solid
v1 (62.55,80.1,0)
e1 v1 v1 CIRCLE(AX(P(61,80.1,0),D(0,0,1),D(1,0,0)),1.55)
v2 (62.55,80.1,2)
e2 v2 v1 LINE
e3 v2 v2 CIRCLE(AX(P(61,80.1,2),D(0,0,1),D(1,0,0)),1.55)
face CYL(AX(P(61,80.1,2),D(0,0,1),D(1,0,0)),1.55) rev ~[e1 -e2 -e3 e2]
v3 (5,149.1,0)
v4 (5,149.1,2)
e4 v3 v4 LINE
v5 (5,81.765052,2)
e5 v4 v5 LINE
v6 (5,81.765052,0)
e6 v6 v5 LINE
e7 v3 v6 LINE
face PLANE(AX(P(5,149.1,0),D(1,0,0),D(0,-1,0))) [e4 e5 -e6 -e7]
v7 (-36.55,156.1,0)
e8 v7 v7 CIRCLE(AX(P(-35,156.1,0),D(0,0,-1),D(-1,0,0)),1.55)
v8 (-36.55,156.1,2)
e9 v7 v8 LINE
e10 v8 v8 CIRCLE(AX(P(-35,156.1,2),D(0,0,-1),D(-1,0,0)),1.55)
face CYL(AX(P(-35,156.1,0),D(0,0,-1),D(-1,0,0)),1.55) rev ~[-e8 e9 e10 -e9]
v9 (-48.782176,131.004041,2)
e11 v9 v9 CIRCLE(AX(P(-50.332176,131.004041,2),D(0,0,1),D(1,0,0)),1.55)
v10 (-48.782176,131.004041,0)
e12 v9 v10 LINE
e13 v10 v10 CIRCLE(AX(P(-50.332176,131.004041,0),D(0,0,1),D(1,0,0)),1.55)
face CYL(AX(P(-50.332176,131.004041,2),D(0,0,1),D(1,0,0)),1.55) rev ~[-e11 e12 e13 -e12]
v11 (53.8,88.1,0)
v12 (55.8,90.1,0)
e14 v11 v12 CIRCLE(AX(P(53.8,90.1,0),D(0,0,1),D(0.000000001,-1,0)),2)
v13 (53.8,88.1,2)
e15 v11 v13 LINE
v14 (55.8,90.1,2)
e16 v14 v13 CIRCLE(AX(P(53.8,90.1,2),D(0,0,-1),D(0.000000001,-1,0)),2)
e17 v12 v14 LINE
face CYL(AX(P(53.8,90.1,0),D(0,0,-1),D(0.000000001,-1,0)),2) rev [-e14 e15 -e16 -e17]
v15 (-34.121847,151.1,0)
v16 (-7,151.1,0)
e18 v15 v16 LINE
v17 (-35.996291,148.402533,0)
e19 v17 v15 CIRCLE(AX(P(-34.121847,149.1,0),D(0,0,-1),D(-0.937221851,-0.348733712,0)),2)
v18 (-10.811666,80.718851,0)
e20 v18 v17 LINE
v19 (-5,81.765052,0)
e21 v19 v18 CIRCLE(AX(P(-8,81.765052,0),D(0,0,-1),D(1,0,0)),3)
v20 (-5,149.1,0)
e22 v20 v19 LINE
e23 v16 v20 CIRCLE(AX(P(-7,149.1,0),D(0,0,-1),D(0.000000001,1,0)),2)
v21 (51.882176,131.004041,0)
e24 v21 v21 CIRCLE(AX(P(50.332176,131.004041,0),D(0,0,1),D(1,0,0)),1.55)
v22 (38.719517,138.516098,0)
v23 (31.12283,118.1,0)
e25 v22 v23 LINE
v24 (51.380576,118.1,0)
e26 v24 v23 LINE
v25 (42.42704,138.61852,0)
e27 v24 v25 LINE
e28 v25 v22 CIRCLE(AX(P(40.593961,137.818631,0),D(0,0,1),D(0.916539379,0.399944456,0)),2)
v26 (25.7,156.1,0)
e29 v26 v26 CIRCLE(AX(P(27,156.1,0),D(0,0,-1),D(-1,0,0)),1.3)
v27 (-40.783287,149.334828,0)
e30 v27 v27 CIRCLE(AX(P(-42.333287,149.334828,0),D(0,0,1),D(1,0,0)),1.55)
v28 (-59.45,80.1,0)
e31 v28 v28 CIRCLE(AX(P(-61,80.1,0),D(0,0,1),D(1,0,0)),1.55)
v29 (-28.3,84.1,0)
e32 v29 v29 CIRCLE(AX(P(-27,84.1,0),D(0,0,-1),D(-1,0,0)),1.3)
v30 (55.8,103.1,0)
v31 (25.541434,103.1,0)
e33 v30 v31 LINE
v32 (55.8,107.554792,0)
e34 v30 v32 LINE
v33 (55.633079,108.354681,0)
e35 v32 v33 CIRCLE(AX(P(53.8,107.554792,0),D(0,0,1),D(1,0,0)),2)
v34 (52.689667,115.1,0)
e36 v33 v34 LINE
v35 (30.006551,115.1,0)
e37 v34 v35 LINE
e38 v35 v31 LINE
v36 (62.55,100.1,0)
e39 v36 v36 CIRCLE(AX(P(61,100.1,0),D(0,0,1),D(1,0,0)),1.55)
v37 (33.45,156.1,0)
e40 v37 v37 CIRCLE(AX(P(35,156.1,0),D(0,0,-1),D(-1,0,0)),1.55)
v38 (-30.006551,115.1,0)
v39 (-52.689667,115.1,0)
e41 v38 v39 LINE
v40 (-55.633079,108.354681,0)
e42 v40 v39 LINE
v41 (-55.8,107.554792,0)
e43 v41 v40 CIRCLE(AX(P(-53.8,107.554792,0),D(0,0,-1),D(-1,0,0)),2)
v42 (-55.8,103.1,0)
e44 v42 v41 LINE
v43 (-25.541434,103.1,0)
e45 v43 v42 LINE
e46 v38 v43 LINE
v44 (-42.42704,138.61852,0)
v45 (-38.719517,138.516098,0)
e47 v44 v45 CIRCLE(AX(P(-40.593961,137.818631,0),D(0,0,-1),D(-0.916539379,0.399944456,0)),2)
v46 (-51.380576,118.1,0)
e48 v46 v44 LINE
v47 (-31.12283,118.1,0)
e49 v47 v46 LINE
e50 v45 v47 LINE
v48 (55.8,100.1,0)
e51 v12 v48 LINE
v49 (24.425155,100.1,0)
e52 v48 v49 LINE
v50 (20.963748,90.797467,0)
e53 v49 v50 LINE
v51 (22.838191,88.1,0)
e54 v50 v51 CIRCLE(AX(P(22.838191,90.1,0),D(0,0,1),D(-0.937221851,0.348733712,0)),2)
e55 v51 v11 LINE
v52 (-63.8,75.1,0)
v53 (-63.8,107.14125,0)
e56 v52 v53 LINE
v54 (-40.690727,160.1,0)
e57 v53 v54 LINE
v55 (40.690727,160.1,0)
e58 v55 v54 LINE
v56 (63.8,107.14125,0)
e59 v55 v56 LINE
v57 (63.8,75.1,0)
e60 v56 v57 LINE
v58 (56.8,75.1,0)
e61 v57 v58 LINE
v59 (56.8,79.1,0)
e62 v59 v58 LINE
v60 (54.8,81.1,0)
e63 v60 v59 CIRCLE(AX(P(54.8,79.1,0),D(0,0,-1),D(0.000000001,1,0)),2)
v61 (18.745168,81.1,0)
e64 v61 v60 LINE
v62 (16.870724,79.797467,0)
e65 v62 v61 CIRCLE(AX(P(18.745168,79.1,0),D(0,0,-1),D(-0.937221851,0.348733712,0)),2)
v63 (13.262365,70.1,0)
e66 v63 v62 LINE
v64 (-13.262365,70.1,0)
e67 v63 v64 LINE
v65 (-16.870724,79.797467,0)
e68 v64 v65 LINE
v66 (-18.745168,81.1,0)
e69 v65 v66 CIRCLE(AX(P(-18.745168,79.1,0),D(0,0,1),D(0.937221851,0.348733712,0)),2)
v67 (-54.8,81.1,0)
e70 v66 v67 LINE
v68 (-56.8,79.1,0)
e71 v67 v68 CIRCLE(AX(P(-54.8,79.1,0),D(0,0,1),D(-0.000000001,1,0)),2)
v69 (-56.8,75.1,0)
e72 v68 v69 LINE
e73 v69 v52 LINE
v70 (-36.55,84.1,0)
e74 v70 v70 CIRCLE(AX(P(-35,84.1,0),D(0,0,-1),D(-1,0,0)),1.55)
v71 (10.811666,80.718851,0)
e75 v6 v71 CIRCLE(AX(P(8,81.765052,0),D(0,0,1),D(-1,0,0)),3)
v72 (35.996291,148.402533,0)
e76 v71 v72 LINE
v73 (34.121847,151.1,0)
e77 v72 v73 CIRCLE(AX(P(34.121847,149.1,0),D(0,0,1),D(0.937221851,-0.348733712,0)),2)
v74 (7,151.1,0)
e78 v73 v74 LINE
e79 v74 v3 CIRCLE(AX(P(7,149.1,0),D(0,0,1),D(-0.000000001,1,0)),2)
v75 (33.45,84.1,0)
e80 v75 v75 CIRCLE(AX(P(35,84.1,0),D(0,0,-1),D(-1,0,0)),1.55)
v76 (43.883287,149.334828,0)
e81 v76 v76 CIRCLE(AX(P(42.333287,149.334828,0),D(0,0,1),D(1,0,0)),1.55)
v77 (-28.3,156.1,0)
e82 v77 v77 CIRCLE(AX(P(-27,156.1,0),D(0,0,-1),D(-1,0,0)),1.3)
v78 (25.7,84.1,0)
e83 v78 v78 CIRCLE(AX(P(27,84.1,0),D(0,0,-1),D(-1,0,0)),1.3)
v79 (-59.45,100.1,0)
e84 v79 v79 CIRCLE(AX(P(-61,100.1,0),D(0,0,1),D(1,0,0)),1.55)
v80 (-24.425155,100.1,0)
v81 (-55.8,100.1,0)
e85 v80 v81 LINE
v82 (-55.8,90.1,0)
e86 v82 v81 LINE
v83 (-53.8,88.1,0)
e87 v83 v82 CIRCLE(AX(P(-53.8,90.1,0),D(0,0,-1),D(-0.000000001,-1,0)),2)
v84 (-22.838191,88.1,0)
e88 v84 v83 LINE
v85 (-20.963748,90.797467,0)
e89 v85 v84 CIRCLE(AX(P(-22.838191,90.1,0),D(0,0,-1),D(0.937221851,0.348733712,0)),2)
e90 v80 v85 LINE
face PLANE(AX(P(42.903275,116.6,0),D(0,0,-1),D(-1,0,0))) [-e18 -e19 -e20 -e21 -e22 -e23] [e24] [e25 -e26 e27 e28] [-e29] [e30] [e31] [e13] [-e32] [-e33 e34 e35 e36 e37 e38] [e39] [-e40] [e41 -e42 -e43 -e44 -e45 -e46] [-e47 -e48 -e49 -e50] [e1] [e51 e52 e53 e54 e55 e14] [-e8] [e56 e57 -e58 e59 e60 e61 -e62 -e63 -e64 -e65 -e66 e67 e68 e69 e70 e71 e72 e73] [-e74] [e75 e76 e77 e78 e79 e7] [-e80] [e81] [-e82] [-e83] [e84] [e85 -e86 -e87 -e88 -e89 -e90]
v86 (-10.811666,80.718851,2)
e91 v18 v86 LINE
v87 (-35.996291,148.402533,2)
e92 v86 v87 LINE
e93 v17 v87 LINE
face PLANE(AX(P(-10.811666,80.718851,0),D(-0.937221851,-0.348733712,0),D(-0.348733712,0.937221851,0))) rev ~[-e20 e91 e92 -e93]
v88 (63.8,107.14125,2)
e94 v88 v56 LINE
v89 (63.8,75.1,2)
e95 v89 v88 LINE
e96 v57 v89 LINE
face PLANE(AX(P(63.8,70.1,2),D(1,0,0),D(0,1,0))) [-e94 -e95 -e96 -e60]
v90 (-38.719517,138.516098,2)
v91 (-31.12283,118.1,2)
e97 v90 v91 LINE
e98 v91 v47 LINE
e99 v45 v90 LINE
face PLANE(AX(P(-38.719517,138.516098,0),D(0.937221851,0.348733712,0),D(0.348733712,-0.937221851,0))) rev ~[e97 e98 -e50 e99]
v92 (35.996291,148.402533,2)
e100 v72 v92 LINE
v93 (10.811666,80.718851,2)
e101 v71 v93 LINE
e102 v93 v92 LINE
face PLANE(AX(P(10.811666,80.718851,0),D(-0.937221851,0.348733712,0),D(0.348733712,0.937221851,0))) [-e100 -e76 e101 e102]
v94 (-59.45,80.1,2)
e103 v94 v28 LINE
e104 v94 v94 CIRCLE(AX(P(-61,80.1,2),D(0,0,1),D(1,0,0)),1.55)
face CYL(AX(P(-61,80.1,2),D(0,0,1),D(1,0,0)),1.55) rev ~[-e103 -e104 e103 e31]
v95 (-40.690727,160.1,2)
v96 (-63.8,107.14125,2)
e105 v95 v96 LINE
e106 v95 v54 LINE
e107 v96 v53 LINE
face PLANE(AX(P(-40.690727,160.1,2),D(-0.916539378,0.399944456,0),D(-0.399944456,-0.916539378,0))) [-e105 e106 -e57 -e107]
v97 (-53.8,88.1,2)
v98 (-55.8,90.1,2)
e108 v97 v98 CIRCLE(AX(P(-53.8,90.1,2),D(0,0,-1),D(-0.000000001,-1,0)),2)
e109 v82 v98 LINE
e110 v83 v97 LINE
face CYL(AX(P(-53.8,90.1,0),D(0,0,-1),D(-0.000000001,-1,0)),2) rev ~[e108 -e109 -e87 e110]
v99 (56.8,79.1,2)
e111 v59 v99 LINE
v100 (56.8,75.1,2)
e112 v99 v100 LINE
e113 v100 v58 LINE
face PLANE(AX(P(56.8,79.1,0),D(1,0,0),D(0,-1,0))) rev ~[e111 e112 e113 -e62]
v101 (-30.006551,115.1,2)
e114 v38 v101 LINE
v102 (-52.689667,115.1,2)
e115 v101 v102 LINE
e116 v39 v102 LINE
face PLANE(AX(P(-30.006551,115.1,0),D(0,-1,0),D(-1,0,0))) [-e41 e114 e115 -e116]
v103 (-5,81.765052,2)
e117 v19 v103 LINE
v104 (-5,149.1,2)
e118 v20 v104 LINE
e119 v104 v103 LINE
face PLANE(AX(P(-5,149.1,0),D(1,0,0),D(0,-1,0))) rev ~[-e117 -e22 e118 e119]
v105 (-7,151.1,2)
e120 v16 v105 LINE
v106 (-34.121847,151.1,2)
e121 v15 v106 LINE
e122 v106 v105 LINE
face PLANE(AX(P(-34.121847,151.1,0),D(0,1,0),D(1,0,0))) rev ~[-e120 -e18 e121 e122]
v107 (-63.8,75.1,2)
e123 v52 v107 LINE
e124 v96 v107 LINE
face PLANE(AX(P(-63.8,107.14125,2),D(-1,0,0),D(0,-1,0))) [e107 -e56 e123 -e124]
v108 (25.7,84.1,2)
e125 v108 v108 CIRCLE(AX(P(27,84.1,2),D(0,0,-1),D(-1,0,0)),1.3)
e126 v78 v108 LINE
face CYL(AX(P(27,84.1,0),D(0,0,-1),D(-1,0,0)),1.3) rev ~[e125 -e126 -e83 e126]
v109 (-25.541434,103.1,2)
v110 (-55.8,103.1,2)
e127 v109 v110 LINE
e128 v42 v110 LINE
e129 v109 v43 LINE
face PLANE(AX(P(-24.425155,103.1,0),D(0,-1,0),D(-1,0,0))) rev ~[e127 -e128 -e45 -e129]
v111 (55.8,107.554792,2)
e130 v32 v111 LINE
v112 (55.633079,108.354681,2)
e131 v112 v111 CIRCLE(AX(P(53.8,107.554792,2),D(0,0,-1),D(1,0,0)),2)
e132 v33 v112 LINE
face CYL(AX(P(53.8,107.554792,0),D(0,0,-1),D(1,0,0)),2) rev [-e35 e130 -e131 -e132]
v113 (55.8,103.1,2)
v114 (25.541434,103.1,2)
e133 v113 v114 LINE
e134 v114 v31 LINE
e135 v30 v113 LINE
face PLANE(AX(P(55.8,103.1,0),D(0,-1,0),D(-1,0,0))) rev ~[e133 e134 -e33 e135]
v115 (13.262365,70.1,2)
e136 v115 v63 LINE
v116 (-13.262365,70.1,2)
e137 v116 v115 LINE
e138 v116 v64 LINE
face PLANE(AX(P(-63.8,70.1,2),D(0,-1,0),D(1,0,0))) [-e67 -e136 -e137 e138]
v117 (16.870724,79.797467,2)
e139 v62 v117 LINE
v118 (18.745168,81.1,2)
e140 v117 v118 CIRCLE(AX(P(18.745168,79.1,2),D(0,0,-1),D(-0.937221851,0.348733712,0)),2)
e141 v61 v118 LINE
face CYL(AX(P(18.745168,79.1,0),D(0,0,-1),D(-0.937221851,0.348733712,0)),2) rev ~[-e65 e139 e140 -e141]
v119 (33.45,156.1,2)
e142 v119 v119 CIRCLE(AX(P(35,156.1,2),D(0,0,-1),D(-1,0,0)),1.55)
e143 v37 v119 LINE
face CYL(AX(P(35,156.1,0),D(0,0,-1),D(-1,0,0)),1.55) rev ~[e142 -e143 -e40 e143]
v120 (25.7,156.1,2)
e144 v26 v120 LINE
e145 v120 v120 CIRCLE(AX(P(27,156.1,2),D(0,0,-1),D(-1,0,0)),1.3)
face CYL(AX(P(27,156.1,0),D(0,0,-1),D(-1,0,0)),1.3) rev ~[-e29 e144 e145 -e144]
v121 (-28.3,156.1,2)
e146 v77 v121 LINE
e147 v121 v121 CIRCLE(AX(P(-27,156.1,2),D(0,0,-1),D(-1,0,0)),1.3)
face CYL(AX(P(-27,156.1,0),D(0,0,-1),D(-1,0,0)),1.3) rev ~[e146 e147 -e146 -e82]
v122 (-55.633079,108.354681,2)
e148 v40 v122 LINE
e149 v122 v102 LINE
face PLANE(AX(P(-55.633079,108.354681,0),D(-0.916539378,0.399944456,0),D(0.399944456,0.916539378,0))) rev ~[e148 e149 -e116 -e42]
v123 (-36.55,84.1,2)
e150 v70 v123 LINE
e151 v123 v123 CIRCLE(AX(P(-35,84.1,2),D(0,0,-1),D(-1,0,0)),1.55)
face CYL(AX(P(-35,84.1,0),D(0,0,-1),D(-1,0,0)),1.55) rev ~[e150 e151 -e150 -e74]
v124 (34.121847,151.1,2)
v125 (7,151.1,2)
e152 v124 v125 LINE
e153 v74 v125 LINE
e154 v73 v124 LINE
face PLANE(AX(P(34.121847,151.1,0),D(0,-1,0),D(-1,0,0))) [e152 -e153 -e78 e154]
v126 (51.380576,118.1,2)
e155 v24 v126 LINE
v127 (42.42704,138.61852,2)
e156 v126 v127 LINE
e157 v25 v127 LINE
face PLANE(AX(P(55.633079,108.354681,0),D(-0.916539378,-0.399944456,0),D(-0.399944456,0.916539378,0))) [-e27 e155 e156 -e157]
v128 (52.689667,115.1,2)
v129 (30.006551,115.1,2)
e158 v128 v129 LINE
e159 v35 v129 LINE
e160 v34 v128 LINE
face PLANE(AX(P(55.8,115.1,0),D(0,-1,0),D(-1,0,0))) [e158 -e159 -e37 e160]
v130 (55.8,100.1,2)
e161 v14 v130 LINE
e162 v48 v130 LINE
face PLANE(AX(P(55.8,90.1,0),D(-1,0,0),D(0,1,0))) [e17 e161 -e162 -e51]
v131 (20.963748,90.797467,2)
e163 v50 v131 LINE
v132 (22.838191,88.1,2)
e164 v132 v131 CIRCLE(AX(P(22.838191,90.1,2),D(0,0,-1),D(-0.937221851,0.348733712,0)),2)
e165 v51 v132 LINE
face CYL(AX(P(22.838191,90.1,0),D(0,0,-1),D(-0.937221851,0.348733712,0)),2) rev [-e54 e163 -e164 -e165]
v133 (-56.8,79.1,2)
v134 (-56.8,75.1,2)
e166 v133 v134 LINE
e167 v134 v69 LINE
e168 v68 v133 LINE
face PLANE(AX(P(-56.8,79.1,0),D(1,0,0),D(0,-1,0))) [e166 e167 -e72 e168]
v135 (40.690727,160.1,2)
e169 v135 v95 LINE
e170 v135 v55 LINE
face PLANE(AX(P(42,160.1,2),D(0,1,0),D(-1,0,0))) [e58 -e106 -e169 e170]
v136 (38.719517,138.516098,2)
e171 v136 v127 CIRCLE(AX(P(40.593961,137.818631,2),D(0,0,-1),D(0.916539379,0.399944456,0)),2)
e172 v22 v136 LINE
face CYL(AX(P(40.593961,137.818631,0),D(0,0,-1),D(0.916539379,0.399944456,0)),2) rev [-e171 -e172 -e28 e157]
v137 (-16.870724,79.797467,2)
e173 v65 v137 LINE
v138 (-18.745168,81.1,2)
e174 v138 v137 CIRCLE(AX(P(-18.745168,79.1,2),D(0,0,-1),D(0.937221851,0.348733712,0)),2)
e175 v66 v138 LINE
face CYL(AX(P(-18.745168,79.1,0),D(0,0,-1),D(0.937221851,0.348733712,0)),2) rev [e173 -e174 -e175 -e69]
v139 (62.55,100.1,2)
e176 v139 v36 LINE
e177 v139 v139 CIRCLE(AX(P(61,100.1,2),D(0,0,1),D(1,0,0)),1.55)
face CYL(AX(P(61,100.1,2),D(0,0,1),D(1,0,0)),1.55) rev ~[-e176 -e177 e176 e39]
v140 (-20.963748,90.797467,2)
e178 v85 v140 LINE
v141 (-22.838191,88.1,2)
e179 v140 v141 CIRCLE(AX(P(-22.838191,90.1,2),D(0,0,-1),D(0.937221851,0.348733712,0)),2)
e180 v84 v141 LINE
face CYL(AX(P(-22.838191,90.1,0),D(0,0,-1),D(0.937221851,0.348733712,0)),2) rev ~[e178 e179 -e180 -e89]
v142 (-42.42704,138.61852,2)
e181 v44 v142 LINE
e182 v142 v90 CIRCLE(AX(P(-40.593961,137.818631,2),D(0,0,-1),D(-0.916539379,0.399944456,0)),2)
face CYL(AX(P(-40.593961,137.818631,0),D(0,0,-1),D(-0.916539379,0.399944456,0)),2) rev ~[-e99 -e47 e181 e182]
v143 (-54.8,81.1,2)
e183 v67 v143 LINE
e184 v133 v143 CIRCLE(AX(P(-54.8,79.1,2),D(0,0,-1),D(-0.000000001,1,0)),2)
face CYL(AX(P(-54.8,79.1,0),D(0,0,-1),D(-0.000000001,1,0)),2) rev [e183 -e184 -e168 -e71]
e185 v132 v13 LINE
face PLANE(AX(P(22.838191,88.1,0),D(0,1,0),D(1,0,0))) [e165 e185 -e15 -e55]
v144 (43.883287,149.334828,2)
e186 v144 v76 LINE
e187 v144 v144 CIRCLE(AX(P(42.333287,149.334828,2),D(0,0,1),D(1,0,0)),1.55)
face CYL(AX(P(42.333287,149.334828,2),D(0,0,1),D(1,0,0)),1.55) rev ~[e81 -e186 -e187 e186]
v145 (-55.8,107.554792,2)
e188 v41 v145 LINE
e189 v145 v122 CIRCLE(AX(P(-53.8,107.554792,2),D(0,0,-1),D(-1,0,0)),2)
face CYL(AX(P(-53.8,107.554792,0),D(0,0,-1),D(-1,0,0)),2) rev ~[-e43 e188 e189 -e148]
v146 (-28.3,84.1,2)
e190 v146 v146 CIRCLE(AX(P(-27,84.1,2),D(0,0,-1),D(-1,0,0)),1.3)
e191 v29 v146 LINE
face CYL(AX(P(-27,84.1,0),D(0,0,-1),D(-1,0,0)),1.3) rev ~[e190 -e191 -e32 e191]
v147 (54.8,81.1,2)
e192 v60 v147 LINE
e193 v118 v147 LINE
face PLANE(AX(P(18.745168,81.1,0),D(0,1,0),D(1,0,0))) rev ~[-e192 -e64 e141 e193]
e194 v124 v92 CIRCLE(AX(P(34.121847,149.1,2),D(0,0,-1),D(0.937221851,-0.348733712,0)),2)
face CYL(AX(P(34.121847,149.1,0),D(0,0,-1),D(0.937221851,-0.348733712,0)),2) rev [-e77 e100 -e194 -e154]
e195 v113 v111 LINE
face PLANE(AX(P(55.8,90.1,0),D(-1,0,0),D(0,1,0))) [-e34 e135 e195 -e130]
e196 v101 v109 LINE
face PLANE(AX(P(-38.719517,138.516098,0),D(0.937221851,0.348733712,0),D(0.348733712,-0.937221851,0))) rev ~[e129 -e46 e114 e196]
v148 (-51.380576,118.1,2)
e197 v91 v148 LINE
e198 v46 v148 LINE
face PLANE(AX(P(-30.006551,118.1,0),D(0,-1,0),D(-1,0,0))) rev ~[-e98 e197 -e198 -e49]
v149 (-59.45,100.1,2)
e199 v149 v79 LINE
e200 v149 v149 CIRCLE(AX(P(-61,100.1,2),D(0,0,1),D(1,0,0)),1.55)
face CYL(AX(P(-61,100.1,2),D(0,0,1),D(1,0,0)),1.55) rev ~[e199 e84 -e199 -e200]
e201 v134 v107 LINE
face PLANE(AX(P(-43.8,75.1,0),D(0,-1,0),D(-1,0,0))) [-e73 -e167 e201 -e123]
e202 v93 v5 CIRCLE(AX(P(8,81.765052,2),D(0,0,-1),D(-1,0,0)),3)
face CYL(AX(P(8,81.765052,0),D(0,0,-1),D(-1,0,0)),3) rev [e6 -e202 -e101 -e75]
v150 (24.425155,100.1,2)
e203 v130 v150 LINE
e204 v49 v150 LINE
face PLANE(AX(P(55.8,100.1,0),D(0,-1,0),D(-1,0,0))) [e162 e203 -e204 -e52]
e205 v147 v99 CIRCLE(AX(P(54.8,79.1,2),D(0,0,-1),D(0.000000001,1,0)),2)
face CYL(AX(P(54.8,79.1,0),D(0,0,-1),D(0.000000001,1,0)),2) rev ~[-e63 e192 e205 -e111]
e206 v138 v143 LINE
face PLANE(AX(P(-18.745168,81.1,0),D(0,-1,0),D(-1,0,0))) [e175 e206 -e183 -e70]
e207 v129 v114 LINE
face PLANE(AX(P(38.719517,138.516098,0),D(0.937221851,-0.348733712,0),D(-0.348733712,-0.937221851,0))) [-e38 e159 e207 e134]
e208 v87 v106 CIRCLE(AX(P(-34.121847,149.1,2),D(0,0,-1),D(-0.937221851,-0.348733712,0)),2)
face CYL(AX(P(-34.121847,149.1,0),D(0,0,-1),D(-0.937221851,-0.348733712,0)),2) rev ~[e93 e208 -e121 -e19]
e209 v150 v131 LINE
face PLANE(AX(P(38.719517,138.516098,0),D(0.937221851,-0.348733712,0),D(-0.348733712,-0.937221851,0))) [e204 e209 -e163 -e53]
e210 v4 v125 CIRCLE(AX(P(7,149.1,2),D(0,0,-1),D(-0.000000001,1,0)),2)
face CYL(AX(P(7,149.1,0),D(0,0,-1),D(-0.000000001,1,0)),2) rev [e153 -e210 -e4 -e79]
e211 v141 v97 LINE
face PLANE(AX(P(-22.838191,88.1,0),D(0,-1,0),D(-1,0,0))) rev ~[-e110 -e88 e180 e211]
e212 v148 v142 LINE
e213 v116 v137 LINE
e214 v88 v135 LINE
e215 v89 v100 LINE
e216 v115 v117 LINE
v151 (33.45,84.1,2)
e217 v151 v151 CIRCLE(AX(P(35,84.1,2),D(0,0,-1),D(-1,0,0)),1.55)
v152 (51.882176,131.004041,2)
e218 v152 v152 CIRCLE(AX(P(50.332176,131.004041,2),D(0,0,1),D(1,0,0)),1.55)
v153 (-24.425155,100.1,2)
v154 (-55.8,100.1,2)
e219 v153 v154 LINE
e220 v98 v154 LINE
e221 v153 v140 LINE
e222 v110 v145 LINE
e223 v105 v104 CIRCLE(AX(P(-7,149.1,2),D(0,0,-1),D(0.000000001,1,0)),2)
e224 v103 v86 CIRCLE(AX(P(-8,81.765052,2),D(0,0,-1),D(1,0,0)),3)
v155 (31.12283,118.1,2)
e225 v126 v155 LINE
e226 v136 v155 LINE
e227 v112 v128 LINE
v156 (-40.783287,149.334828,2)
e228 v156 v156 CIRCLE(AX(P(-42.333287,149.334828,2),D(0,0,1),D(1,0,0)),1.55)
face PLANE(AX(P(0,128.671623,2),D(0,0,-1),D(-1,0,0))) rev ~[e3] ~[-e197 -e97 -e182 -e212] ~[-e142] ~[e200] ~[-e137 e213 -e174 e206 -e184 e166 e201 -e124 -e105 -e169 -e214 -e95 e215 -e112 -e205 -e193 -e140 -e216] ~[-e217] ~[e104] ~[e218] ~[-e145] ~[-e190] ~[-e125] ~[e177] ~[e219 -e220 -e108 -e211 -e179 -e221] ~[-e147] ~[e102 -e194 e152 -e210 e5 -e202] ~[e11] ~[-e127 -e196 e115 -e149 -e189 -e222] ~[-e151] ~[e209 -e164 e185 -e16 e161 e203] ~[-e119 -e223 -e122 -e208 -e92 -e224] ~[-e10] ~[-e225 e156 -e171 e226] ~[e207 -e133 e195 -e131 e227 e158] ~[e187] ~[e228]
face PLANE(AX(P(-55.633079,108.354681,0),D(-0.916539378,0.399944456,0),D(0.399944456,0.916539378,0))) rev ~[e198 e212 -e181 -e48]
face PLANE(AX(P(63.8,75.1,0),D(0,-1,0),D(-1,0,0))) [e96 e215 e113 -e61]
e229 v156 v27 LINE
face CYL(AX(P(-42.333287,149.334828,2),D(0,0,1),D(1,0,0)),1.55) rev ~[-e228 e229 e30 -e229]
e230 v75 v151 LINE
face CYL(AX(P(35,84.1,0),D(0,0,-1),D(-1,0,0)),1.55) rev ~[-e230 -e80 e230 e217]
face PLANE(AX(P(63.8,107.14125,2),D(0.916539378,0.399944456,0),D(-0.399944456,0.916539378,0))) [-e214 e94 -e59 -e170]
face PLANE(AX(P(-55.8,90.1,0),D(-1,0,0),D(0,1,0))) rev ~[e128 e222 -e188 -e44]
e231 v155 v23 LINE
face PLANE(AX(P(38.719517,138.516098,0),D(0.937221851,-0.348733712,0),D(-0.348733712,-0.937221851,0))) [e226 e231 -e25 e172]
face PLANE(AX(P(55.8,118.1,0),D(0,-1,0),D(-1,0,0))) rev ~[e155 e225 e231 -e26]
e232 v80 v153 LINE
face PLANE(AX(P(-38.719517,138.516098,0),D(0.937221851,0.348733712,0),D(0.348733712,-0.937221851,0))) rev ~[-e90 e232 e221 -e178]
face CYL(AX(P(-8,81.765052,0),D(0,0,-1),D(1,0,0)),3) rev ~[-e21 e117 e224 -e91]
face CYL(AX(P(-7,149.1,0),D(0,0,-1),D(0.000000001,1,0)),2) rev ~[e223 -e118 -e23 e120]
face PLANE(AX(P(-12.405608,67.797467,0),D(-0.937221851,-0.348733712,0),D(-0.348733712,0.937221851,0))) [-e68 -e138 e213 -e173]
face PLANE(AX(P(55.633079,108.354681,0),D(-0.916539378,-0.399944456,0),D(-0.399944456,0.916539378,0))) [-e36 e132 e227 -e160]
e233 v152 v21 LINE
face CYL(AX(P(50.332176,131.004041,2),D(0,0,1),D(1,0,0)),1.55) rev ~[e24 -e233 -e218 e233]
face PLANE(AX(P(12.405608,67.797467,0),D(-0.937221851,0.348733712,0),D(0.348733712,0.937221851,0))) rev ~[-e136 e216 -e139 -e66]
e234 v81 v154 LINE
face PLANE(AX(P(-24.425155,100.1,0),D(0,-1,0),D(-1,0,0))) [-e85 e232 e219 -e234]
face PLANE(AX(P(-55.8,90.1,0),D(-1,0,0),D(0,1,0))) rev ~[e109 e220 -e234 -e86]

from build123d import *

# Parameters (mm, degrees)
SKETCH_1_R          = 40.9
SKETCH_1_R_2        = 1.525
EXTRUDE_1_DEPTH     = 2
EXTRUDE_2_DEPTH     = 2
SKETCH_4_R          = 1.55
CUT_EXTRUDE_2_DEPTH = 10
SKETCH_5_OUTSIDE_W  = 183.288
SKETCH_5_OUTSIDE_H  = 259.388
CUT_EXTRUDE_3_DEPTH = 10
SKETCH_7_R          = 1.3
SKETCH_7_R_2        = 1.55
CUT_EXTRUDE_4_DEPTH = 10
CUT_EXTRUDE_5_DEPTH = 10
SKETCH_9_W          = 25.793449444
SKETCH_9_H          = 3
SKETCH_9_W_2        = 31.374844792
EXTRUDE_4_DEPTH     = 2
SKETCH_12_W         = 20
SKETCH_12_H         = 5
CUT_EXTRUDE_7_DEPTH = 10


with BuildPart() as part:
    # 草图1 → 凸台-拉伸1 (new body)
    with BuildSketch(Plane.XY):
        with BuildLine():
            Line((-48, 105.1), (48, 105.1))
            Line((48, 105.1), (66, 105.1))
            Line((66, 105.1), (66, 52.6))
            Line((66, 52.6), (45.955327857, -13.860297311))
            ThreePointArc((45.955327857, -13.860297311), (0, -48), (-45.955327857, -13.860297311))
            Line((-45.955327857, -13.860297311), (-66, 52.6))
            Line((-66, 52.6), (-66, 105.1))
            Line((-66, 105.1), (-48, 105.1))
        make_face()
        Circle(SKETCH_1_R, mode=Mode.SUBTRACT)
        with Locations((12.835117837, 41.981778787)):
            Circle(SKETCH_1_R_2, mode=Mode.SUBTRACT)
        with Locations((-17.153096541, 40.410163067)):
            Circle(SKETCH_1_R_2, mode=Mode.SUBTRACT)
        with Locations((-31.749094475, 31.749094475)):
            Circle(SKETCH_1_R_2, mode=Mode.SUBTRACT)
        with Locations((31.749094475, 31.749094475)):
            Circle(SKETCH_1_R_2, mode=Mode.SUBTRACT)
        with Locations((31.749094475, -31.749094475)):
            Circle(SKETCH_1_R_2, mode=Mode.SUBTRACT)
        with Locations((-31.749094475, -31.749094475)):
            Circle(SKETCH_1_R_2, mode=Mode.SUBTRACT)
        with Locations((-9.5, 52.6)):
            Circle(SKETCH_1_R_2, mode=Mode.SUBTRACT)
        with Locations((9.5, 52.6)):
            Circle(SKETCH_1_R_2, mode=Mode.SUBTRACT)
    extrude(amount=EXTRUDE_1_DEPTH)

    # 草图3 → 凸台-拉伸2 (add)
    with BuildSketch(Plane.XY.offset(2)):
        Polygon((-66, 105.1), (-42, 160.1), (-22, 160.1), (22, 160.1), (42, 160.1), (66, 105.1), (22, 105.1), (-22, 105.1), align=None)
    extrude(amount=-EXTRUDE_2_DEPTH)

    # 草图4 → 切除-拉伸2 (cut)
    with BuildSketch(Plane.XY.offset(2)):
        with Locations((-61, 100.1)):
            Circle(SKETCH_4_R)
        with Locations((-61, 80.1)):
            Circle(SKETCH_4_R)
        with Locations((-42.333287047, 149.334828392)):
            Circle(SKETCH_4_R)
        with Locations((-50.332176167, 131.004040825)):
            Circle(SKETCH_4_R)
        with Locations((61, 80.1)):
            Circle(SKETCH_4_R)
        with Locations((61, 100.1)):
            Circle(SKETCH_4_R)
        with Locations((50.332176167, 131.004040825)):
            Circle(SKETCH_4_R)
        with Locations((42.333287047, 149.334828392)):
            Circle(SKETCH_4_R)
    extrude(amount=-CUT_EXTRUDE_2_DEPTH, mode=Mode.SUBTRACT)

    # 草图5 outside → 切除-拉伸3 (cut)
    with BuildSketch(Plane.XY.offset(2)):
        with Locations((0, 56.05)):
            Rectangle(SKETCH_5_OUTSIDE_W, SKETCH_5_OUTSIDE_H)
        Polygon((-40.690727285, 160.1), (-63.8, 107.141250029), (-63.8, 70.1), (63.8, 70.1), (63.8, 107.141250029), (40.690727285, 160.1), align=None, mode=Mode.SUBTRACT)
    extrude(amount=-CUT_EXTRUDE_3_DEPTH, mode=Mode.SUBTRACT)

    # 草图7 → 切除-拉伸4 (cut)
    with BuildSketch(Plane(origin=(0, 0, 0), x_dir=(-1, 0, 0), z_dir=(0, 0, -1))):
        with Locations((-27, 156.1)):
            Circle(SKETCH_7_R)
        with Locations((27, 156.1)):
            Circle(SKETCH_7_R)
        with Locations((-27, 84.1)):
            Circle(SKETCH_7_R)
        with Locations((27, 84.1)):
            Circle(SKETCH_7_R)
        with Locations((-35, 156.1)):
            Circle(SKETCH_7_R_2)
        with Locations((35, 156.1)):
            Circle(SKETCH_7_R_2)
        with Locations((-35, 84.1)):
            Circle(SKETCH_7_R_2)
        with Locations((35, 84.1)):
            Circle(SKETCH_7_R_2)
    extrude(amount=-CUT_EXTRUDE_4_DEPTH, mode=Mode.SUBTRACT)

    # 草图8 → 切除-拉伸5 (cut)
    with BuildSketch(Plane(origin=(0, 0, 0), x_dir=(-1, 0, 0), z_dir=(0, 0, -1))):
        with BuildLine():
            Line((-34.121847489, 151.1), (-7, 151.1))
            ThreePointArc((-7, 151.1), (-5.585786438, 150.514213562), (-5, 149.1))
            Line((-5, 149.1), (-5, 81.76505231))
            ThreePointArc((-5, 81.76505231), (-7.468491138, 78.812511315), (-10.811665553, 80.718851174))
            Line((-10.811665553, 80.718851174), (-35.996291191, 148.402532576))
            ThreePointArc((-35.996291191, 148.402532576), (-35.764244342, 150.241285493), (-34.121847489, 151.1))
        make_face()
        with BuildLine():
            Line((-38.719517417, 138.516098438), (-20.963747737, 90.797467424))
            ThreePointArc((-20.963747737, 90.797467424), (-21.195794586, 88.958714507), (-22.83819144, 88.1))
            Line((-22.83819144, 88.1), (-53.8, 88.1))
            ThreePointArc((-53.8, 88.1), (-55.214213562, 88.685786438), (-55.8, 90.1))
            Line((-55.8, 90.1), (-55.8, 107.554791913))
            ThreePointArc((-55.8, 107.554791913), (-55.757825007, 107.963351875), (-55.633078757, 108.354680825))
            Line((-55.633078757, 108.354680825), (-42.427039876, 138.618519926))
            ThreePointArc((-42.427039876, 138.618519926), (-40.538731553, 139.817868293), (-38.719517417, 138.516098438))
        make_face()
        with BuildLine():
            Line((-56.8, 79.1), (-56.8, 67.1))
            ThreePointArc((-56.8, 67.1), (-56.214213562, 65.685786438), (-54.8, 65.1))
            Line((-54.8, 65.1), (-14.280051905, 65.1))
            ThreePointArc((-14.280051905, 65.1), (-12.637655051, 65.958714507), (-12.405608203, 67.797467424))
            Line((-12.405608203, 67.797467424), (-16.870724482, 79.797467424))
            ThreePointArc((-16.870724482, 79.797467424), (-17.603882691, 80.742396853), (-18.745168184, 81.1))
            Line((-18.745168184, 81.1), (-54.8, 81.1))
            ThreePointArc((-54.8, 81.1), (-56.214213562, 80.514213562), (-56.8, 79.1))
        make_face()
        with BuildLine():
            Line((18.745168184, 81.1), (54.8, 81.1))
            ThreePointArc((54.8, 81.1), (56.214213562, 80.514213562), (56.8, 79.1))
            Line((56.8, 79.1), (56.8, 67.1))
            ThreePointArc((56.8, 67.1), (56.214213562, 65.685786438), (54.8, 65.1))
            Line((54.8, 65.1), (14.280051905, 65.1))
            ThreePointArc((14.280051905, 65.1), (12.637655051, 65.958714507), (12.405608203, 67.797467424))
            Line((12.405608203, 67.797467424), (16.870724482, 79.797467424))
            ThreePointArc((16.870724482, 79.797467424), (17.603882691, 80.742396853), (18.745168184, 81.1))
        make_face()
        with BuildLine():
            Line((55.633078757, 108.354680825), (42.427039876, 138.618519926))
            ThreePointArc((42.427039876, 138.618519926), (40.538731553, 139.817868293), (38.719517417, 138.516098438))
            Line((38.719517417, 138.516098438), (20.963747737, 90.797467424))
            ThreePointArc((20.963747737, 90.797467424), (21.195794586, 88.958714507), (22.83819144, 88.1))
            Line((22.83819144, 88.1), (53.8, 88.1))
            ThreePointArc((53.8, 88.1), (55.214213562, 88.685786438), (55.8, 90.1))
            Line((55.8, 90.1), (55.8, 107.554791913))
            ThreePointArc((55.8, 107.554791913), (55.757825007, 107.963351875), (55.633078757, 108.354680825))
        make_face()
        with BuildLine():
            Line((10.811665553, 80.718851174), (35.996291191, 148.402532576))
            ThreePointArc((35.996291191, 148.402532576), (35.764244342, 150.241285493), (34.121847489, 151.1))
            Line((34.121847489, 151.1), (7, 151.1))
            ThreePointArc((7, 151.1), (5.585786438, 150.514213562), (5, 149.1))
            Line((5, 149.1), (5, 81.76505231))
            ThreePointArc((5, 81.76505231), (7.468491138, 78.812511315), (10.811665553, 80.718851174))
        make_face()
    extrude(amount=-CUT_EXTRUDE_5_DEPTH, mode=Mode.SUBTRACT)

    # 草图9 → 凸台-拉伸4 (add)
    with BuildSketch(Plane(origin=(0, 0, 0), x_dir=(-1, 0, 0), z_dir=(0, 0, -1))):
        with Locations((-42.903275278, 116.6)):
            Rectangle(SKETCH_9_W, SKETCH_9_H)
        with Locations((-40.112577604, 101.6)):
            Rectangle(SKETCH_9_W_2, SKETCH_9_H)
        with Locations((40.112577604, 101.6)):
            Rectangle(SKETCH_9_W_2, SKETCH_9_H)
        with Locations((42.903275278, 116.6)):
            Rectangle(SKETCH_9_W, SKETCH_9_H)
    extrude(amount=-EXTRUDE_4_DEPTH)

    # 草图12 → 切除-拉伸7 (cut)
    with BuildSketch(Plane(origin=(0, 0, 0), x_dir=(-1, 0, 0), z_dir=(0, 0, -1))):
        with Locations((-53.8, 72.6)):
            Rectangle(SKETCH_12_W, SKETCH_12_H)
        with Locations((53.8, 72.6)):
            Rectangle(SKETCH_12_W, SKETCH_12_H)
    extrude(amount=-CUT_EXTRUDE_7_DEPTH, mode=Mode.SUBTRACT)


solid = part.part
